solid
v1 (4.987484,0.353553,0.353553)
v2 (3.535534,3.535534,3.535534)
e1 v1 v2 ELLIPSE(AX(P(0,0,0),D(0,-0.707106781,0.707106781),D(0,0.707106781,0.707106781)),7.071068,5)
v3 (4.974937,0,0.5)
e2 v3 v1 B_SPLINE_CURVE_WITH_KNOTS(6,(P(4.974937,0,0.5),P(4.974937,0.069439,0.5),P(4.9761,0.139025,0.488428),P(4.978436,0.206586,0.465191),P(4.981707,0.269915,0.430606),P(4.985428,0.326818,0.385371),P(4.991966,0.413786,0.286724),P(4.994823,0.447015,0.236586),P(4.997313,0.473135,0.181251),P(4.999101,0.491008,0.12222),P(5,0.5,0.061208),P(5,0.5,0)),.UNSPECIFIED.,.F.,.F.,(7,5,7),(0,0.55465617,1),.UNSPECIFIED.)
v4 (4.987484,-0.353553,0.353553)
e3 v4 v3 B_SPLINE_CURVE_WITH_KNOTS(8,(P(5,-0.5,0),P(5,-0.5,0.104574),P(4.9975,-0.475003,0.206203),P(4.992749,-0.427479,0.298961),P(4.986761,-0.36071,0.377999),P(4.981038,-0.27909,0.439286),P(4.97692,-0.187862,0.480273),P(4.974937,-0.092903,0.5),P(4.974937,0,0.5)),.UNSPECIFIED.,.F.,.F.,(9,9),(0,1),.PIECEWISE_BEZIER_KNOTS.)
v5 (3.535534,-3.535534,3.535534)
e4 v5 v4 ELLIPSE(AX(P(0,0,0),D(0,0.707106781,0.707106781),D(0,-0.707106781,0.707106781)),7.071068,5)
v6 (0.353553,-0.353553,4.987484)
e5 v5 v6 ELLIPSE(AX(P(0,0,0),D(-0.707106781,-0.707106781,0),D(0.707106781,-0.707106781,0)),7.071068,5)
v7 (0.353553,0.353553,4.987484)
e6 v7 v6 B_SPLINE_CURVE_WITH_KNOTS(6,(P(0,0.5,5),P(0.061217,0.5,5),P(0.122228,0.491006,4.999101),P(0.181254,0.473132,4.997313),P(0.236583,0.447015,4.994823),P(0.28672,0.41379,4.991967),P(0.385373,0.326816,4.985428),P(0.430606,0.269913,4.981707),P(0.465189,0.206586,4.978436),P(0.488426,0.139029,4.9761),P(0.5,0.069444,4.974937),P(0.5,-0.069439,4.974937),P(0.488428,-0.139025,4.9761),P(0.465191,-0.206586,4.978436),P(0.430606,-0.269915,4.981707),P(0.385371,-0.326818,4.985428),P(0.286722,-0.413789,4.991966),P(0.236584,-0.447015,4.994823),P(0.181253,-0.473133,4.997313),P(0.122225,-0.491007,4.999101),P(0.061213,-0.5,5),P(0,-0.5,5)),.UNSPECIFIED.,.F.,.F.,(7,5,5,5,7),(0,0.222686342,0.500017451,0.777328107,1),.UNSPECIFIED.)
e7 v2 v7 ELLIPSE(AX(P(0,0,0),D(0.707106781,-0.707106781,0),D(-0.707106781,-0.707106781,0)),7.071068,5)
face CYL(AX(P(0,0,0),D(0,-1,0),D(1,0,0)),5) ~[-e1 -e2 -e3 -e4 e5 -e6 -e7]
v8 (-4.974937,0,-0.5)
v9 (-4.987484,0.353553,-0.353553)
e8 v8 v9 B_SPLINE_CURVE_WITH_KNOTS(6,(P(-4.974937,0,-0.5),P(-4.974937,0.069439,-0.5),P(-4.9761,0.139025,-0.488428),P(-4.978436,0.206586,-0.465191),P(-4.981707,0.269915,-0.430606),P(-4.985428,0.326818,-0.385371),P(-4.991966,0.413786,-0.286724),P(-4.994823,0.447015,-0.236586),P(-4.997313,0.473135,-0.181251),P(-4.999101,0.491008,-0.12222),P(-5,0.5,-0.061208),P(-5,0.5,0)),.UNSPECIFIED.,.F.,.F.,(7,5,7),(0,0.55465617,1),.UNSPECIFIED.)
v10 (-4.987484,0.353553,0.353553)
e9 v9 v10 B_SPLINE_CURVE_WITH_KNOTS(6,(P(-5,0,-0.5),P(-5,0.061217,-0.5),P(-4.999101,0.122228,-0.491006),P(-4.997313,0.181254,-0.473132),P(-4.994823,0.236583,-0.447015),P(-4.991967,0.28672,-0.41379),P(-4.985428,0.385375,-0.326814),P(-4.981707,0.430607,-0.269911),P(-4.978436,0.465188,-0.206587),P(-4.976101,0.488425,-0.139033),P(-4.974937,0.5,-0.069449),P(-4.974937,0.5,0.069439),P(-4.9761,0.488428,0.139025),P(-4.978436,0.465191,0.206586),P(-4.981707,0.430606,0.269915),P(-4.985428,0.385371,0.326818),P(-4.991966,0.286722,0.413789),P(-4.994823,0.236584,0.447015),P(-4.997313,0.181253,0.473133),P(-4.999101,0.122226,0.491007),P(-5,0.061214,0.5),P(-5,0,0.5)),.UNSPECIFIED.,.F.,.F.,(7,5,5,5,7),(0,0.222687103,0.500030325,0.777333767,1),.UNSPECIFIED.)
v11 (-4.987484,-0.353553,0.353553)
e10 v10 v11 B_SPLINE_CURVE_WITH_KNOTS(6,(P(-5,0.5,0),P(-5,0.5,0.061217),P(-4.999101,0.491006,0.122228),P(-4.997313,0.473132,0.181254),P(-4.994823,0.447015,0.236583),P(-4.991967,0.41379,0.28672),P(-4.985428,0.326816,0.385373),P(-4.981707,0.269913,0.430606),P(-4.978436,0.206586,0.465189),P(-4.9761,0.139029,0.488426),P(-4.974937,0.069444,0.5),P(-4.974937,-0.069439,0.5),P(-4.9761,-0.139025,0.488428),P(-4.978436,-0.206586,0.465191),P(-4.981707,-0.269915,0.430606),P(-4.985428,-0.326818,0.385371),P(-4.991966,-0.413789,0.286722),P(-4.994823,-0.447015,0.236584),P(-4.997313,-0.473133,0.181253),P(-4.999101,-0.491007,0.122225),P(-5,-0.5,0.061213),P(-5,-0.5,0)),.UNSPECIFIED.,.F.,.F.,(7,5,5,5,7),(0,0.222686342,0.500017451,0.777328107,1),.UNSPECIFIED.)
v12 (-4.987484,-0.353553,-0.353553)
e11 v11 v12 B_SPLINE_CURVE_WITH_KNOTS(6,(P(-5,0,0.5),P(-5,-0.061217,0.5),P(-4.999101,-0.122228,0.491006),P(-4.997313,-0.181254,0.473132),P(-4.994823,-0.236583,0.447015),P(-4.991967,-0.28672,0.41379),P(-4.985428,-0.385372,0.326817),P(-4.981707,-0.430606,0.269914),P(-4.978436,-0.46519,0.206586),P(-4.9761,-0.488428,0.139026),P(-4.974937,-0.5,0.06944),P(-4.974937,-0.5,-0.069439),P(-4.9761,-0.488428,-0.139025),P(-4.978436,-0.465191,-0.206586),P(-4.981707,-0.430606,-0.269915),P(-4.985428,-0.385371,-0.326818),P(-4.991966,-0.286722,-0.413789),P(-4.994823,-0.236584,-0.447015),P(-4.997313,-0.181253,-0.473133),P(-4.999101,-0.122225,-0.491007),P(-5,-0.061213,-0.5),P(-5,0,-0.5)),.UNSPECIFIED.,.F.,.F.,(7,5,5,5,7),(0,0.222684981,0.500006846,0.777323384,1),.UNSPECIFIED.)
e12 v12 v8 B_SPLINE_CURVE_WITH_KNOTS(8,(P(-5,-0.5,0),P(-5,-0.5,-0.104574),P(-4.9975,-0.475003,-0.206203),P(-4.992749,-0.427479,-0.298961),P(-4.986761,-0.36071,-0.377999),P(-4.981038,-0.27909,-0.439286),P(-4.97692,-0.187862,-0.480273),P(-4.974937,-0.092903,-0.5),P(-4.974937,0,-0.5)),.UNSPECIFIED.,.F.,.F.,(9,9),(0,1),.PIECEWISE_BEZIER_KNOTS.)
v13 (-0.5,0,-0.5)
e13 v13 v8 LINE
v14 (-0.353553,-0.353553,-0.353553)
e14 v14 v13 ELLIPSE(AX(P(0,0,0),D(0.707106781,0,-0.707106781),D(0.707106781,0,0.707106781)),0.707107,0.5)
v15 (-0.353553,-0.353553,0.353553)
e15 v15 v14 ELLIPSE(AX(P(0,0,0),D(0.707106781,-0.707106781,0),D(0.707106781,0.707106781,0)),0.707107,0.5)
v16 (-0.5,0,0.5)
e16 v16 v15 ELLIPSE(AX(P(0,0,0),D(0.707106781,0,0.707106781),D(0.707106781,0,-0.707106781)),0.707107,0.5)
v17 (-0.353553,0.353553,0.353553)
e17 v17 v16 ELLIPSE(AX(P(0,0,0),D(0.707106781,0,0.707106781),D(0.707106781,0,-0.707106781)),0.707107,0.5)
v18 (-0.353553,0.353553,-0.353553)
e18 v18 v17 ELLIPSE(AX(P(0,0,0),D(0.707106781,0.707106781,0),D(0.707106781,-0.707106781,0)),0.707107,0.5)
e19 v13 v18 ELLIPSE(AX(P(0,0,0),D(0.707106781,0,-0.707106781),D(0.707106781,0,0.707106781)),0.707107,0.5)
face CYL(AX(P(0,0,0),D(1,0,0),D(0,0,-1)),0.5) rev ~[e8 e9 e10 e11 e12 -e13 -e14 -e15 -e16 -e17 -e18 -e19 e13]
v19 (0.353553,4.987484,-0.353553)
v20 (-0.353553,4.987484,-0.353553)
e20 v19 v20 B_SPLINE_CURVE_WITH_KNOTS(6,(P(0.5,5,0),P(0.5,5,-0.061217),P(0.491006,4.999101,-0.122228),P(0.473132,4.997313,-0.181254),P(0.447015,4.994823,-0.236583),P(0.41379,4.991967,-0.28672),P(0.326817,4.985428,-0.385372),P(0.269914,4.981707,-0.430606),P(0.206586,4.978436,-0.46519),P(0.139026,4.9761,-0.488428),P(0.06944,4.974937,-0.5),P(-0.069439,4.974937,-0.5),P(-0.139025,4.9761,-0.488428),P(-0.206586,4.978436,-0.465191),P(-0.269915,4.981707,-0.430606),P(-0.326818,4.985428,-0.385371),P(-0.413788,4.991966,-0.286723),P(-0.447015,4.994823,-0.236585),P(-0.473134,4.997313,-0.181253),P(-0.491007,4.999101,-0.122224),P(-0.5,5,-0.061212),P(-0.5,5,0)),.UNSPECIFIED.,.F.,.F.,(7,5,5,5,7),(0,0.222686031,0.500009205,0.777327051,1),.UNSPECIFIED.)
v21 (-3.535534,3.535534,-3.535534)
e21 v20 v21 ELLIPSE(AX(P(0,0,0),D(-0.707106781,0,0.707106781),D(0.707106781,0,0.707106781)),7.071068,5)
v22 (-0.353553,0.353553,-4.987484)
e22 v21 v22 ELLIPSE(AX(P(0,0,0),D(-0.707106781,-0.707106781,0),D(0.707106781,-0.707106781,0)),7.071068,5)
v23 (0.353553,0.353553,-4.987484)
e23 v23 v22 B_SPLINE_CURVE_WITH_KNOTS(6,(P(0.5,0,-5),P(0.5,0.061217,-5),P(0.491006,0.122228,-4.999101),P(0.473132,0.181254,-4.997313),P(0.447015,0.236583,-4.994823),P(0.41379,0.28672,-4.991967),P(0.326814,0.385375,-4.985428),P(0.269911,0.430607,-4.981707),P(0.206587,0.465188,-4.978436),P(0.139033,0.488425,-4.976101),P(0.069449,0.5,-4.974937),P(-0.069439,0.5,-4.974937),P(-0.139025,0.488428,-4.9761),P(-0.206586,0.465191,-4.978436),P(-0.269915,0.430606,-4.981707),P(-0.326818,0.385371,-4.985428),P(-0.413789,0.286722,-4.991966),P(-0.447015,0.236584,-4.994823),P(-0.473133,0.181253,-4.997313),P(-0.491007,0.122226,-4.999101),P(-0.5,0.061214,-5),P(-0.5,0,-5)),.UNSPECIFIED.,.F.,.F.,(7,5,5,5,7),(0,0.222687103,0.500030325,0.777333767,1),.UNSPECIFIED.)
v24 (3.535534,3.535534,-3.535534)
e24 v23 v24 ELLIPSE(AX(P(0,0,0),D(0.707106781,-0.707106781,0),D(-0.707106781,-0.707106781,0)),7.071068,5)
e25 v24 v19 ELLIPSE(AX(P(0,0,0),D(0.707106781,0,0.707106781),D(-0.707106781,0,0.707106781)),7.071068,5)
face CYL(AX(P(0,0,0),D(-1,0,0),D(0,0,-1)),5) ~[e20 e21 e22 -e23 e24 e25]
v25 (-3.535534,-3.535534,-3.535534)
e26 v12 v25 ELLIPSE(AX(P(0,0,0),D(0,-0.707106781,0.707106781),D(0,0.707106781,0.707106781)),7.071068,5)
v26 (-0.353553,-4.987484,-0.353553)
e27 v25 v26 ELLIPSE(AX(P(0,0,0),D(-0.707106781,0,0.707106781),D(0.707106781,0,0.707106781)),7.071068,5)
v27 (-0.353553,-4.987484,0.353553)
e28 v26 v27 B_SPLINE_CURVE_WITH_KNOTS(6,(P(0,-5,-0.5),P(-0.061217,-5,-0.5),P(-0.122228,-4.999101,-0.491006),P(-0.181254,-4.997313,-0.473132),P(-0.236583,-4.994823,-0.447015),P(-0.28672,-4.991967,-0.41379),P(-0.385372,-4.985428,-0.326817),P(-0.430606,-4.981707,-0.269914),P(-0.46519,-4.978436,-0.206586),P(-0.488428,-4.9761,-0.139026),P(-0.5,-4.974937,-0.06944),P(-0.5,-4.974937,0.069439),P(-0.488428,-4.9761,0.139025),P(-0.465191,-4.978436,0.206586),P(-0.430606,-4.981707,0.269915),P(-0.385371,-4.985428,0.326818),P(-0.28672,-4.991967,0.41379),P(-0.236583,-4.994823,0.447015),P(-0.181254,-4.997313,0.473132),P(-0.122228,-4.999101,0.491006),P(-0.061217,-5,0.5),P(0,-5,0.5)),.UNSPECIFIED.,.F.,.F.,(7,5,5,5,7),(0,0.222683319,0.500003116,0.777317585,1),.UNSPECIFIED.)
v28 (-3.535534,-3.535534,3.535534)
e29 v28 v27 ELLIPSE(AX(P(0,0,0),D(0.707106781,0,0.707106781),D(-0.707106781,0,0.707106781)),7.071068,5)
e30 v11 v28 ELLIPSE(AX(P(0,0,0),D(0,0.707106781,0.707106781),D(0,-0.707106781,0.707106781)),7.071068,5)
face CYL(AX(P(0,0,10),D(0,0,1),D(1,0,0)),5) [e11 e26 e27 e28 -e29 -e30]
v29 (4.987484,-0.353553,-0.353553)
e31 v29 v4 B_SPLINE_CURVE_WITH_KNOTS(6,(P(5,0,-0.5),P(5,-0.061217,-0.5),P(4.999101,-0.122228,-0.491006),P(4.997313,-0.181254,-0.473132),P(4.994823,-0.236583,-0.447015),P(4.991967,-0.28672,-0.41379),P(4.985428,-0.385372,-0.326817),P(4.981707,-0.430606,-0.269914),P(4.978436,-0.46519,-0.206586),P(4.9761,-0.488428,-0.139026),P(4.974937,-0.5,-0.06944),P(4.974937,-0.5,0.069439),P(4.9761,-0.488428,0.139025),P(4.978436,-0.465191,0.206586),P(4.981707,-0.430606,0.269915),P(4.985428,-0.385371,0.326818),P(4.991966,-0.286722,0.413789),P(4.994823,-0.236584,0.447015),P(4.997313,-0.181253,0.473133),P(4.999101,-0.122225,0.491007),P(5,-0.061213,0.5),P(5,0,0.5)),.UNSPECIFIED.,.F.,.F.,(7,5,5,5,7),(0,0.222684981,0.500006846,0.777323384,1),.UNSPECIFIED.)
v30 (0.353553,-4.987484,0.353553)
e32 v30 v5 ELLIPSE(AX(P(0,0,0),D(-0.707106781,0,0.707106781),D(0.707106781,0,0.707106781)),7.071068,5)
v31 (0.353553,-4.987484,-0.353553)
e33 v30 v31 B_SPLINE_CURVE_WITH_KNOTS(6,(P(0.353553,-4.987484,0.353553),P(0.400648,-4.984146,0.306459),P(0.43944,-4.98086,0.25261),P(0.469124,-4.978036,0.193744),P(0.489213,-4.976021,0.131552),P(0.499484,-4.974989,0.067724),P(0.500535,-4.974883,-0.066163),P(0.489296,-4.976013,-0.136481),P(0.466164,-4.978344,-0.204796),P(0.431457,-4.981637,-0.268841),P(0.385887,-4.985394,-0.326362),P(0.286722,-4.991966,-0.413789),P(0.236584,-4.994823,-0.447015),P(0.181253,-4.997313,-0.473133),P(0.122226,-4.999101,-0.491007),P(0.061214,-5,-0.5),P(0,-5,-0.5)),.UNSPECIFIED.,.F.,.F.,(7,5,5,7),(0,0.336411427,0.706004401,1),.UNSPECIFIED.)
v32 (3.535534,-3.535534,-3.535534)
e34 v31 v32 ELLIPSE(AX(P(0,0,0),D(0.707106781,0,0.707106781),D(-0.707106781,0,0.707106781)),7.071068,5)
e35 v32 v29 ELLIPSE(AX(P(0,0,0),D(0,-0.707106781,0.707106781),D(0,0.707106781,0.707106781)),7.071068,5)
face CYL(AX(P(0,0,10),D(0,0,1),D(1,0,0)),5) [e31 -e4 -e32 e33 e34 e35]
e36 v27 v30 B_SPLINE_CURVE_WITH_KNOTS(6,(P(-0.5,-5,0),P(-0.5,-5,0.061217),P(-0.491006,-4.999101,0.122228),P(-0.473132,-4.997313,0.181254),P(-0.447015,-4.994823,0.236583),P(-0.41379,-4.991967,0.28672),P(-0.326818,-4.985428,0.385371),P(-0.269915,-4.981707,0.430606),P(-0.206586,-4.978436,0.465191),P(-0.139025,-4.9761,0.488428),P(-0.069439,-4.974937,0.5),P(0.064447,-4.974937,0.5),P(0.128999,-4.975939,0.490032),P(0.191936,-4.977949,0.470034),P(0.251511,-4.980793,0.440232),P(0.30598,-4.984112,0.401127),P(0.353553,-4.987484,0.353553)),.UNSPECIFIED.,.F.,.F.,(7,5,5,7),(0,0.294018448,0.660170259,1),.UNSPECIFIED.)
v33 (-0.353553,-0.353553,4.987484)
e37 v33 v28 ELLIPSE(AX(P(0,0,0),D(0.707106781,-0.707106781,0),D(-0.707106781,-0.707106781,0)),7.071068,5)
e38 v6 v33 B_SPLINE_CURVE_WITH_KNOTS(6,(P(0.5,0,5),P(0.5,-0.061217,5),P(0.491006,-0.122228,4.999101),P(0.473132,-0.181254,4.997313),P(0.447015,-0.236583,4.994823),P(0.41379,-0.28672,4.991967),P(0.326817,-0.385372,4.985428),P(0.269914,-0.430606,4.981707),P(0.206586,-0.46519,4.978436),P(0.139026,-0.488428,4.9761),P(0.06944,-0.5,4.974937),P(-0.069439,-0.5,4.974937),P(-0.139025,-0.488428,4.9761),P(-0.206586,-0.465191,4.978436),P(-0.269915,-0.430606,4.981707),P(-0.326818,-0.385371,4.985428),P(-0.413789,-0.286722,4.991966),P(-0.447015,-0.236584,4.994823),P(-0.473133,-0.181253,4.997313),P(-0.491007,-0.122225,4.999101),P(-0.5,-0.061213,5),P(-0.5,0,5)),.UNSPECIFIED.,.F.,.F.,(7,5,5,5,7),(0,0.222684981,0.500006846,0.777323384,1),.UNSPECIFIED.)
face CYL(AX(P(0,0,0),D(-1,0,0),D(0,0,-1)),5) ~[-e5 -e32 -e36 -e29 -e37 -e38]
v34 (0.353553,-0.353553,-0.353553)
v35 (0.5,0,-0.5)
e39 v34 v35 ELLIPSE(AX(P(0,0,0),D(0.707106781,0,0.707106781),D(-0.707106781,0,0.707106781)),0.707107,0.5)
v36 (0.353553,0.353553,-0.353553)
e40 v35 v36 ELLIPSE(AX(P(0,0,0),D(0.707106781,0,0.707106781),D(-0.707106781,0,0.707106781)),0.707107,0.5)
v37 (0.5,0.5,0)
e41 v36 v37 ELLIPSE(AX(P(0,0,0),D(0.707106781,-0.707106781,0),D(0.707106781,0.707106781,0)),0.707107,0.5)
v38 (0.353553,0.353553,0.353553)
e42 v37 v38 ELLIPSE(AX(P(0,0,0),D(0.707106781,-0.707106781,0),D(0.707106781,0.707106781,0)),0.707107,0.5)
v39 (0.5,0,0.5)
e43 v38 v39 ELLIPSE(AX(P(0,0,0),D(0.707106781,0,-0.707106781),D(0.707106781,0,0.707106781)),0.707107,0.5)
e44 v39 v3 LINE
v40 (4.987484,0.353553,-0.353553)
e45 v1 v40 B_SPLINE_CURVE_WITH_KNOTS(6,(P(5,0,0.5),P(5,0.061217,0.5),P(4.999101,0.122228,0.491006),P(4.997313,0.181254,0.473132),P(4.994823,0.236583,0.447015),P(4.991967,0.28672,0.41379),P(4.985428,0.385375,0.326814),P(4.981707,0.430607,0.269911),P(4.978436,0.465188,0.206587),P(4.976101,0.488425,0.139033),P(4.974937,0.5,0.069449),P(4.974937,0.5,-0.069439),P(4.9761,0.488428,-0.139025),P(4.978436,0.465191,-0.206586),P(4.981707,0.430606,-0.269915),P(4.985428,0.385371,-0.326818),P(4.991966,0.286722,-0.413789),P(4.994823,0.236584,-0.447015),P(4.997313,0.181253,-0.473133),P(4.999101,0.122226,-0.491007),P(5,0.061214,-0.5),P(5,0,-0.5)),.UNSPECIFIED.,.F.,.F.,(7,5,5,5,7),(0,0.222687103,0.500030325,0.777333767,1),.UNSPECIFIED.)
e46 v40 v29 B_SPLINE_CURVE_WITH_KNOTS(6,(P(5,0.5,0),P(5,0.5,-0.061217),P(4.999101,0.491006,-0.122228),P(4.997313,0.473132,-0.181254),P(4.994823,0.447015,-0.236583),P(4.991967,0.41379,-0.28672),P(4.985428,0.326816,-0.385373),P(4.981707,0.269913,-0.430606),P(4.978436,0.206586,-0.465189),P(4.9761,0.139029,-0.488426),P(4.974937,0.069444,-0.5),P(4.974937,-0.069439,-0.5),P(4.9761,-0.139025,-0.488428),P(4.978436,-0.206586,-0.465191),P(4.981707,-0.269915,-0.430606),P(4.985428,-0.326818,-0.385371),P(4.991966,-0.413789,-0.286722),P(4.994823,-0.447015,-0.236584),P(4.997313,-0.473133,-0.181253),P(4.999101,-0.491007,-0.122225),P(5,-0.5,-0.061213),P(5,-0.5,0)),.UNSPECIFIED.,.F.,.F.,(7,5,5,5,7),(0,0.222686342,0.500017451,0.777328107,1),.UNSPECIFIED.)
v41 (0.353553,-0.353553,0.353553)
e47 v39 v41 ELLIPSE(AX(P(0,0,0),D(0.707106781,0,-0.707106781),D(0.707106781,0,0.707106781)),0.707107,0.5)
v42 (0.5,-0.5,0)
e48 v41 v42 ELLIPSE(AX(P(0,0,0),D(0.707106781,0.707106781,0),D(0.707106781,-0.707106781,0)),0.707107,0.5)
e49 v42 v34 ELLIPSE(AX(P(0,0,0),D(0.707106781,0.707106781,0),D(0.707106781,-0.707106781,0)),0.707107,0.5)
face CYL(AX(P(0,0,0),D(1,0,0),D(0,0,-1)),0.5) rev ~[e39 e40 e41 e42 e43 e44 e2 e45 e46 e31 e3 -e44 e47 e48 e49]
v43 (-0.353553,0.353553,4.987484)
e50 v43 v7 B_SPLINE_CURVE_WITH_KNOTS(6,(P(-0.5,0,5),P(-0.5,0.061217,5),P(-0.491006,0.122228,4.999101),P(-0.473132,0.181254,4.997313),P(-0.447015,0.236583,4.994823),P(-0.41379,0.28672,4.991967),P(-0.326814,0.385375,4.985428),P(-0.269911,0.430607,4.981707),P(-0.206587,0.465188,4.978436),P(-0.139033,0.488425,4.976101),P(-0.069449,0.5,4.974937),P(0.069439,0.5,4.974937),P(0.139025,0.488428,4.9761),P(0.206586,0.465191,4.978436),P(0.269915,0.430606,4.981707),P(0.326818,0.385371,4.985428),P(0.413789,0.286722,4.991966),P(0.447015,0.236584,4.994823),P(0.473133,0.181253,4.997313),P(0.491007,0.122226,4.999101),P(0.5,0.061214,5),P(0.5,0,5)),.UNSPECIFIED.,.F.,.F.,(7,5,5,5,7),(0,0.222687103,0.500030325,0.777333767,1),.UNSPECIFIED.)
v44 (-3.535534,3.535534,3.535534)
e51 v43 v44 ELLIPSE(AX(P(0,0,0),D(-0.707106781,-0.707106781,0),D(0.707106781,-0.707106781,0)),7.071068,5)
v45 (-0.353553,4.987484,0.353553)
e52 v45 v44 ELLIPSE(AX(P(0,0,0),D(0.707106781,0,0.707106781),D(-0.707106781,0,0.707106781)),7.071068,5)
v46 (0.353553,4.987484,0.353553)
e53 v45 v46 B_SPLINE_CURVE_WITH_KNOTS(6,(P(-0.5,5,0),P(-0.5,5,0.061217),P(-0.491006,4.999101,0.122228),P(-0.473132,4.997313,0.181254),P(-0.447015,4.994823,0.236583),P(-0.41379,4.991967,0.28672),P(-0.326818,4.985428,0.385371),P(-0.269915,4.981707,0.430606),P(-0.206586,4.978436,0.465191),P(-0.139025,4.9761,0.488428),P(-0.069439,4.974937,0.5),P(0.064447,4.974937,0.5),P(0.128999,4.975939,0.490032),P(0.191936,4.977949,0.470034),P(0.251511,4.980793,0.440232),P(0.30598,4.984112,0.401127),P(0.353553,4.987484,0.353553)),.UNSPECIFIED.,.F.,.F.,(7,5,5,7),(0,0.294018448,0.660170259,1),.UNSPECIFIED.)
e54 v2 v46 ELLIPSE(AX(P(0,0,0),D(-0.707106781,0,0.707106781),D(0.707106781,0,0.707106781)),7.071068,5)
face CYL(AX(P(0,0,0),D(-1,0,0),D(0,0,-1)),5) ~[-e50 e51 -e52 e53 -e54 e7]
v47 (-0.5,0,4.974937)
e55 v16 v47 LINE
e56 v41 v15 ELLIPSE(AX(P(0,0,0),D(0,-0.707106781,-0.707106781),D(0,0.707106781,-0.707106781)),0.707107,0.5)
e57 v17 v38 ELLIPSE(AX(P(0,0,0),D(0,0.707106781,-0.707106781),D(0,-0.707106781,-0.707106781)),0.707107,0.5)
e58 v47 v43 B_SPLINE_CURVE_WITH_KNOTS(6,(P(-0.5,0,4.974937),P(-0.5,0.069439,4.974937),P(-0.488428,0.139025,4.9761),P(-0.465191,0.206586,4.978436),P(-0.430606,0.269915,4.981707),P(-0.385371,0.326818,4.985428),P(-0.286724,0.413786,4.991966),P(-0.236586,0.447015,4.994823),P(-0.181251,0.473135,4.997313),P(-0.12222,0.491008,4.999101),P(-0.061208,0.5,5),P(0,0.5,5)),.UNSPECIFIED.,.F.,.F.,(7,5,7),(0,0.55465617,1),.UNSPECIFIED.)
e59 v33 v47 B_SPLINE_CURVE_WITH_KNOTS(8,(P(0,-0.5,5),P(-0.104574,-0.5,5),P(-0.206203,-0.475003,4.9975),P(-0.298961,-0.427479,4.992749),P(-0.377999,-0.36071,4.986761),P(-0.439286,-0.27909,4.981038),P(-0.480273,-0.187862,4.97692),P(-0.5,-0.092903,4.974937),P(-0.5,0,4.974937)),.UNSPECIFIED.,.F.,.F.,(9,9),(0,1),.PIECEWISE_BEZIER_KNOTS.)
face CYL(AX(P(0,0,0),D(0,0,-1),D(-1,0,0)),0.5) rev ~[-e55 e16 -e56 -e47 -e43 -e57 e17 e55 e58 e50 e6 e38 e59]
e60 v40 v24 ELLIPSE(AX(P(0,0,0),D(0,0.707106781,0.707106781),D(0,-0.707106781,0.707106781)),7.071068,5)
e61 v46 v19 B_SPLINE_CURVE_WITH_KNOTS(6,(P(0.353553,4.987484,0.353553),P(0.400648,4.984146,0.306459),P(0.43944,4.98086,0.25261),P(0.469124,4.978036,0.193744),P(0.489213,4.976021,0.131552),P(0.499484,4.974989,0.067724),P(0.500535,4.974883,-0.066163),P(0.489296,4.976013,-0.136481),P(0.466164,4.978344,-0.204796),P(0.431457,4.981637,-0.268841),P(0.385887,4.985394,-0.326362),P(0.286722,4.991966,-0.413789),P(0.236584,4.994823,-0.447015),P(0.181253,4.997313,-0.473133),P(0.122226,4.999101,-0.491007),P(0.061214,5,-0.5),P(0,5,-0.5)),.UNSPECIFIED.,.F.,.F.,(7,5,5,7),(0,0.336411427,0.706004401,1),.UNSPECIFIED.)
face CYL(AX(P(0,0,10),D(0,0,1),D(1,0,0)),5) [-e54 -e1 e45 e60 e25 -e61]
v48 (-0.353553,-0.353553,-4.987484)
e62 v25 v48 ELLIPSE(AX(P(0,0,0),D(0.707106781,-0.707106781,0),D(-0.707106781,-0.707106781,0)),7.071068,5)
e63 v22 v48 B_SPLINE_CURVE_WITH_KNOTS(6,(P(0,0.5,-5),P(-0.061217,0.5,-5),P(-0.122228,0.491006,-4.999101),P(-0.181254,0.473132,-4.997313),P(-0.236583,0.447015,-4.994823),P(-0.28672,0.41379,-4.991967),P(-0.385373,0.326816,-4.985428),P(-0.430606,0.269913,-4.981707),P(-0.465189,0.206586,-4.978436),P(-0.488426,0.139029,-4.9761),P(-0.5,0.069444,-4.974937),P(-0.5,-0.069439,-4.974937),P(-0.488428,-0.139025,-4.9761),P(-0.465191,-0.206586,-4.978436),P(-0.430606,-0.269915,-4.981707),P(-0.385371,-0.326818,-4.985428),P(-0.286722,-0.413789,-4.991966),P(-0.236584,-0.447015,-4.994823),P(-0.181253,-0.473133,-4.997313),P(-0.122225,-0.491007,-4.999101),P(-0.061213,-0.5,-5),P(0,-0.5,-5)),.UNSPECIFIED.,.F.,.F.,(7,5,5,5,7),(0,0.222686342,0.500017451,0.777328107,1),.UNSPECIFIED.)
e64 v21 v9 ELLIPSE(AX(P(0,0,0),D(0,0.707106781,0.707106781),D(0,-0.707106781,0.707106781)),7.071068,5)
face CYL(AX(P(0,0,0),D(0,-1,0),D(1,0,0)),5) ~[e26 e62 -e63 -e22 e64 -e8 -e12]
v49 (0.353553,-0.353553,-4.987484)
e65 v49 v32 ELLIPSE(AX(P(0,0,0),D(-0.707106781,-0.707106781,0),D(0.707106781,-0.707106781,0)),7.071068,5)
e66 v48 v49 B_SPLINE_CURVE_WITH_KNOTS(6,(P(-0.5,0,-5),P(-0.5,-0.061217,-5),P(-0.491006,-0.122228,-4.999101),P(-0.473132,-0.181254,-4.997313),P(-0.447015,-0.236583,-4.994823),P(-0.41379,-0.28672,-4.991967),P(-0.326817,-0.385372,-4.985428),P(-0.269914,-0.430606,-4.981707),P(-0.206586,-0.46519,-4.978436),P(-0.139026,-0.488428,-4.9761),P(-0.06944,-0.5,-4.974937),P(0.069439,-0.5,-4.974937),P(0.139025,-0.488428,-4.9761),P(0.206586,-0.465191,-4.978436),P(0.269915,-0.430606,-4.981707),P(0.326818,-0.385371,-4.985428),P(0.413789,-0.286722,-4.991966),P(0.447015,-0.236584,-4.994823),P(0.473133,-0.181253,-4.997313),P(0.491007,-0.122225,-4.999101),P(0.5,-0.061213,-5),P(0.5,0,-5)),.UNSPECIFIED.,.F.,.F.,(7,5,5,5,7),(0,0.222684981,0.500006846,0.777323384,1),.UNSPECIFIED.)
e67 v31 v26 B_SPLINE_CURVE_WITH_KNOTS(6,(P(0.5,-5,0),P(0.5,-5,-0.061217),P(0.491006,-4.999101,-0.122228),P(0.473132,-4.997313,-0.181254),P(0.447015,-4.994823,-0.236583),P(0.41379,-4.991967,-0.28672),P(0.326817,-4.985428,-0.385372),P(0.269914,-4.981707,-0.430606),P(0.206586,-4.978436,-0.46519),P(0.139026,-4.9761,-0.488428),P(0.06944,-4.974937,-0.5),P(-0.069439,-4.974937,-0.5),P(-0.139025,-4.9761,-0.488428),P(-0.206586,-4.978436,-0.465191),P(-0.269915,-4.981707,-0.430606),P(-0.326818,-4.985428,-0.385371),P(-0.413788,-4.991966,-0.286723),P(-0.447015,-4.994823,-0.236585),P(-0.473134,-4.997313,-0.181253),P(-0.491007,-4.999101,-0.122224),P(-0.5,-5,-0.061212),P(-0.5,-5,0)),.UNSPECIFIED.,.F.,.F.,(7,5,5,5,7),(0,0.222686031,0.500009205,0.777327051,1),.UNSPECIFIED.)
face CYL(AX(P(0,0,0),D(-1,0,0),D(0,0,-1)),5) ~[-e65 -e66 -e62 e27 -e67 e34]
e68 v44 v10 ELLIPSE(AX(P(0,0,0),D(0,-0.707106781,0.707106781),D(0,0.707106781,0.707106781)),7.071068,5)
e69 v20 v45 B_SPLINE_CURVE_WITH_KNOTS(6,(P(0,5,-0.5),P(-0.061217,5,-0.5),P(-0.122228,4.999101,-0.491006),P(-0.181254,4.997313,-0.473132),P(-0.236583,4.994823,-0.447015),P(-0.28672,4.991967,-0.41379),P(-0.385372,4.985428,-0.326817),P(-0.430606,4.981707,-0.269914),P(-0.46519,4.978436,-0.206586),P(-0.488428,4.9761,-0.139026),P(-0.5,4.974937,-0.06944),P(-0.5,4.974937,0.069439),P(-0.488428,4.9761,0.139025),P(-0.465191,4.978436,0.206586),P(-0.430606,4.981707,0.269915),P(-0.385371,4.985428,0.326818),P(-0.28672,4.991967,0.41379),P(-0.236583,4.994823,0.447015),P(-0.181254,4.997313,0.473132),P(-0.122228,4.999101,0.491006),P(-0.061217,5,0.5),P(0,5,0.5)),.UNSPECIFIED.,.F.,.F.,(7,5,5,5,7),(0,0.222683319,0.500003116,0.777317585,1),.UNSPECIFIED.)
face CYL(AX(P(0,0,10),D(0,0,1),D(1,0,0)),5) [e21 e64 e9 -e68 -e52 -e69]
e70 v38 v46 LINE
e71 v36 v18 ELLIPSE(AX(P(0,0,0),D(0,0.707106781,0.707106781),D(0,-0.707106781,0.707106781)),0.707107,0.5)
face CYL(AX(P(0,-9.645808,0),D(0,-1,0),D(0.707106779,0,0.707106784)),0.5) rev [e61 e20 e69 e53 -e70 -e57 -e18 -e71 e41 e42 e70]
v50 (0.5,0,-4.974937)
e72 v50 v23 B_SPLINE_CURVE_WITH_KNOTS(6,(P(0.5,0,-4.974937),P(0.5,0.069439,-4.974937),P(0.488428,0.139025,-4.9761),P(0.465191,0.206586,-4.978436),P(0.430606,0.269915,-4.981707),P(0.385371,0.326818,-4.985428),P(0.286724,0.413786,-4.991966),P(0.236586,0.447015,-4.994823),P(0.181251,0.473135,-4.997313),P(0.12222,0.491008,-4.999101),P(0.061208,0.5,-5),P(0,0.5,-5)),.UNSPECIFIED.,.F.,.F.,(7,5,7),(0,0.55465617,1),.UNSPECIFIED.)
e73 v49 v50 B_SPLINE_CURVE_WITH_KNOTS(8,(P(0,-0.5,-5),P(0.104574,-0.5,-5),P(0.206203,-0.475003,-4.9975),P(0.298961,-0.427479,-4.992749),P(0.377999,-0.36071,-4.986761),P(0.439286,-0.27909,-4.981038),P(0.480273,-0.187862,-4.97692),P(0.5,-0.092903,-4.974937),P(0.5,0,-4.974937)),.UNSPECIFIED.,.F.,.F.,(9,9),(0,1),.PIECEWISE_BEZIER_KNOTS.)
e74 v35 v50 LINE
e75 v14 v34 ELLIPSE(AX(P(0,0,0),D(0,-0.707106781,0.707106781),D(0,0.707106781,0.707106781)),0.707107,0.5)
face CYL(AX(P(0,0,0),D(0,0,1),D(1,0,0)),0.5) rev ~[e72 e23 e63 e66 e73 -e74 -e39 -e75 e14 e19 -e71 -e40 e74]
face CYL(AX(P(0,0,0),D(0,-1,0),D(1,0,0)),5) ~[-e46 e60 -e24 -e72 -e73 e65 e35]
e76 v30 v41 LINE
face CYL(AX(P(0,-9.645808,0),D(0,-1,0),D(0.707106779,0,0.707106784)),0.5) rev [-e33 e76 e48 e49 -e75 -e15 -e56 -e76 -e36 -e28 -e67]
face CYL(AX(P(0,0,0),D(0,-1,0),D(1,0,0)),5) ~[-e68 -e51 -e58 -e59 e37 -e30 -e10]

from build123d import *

# Parameters (mm, degrees)
SKETCH_2_W               = 20
SKETCH_2_H               = 20
EXTRUDE_1_DEPTH          = 10
SKETCH_3_OUTSIDE_W       = 28.928
SKETCH_3_OUTSIDE_H       = 28.928
SKETCH_3_OUTSIDE_R       = 5
CUT_EXTRUDE_1_DEPTH      = 20
SKETCH_4_OUTSIDE_W       = 16.898
SKETCH_4_OUTSIDE_H       = 26.898
SKETCH_4_OUTSIDE_R       = 5
CUT_EXTRUDE_2_DEPTH      = 10
SKETCH_5_OUTSIDE_W       = 15.464
SKETCH_5_OUTSIDE_H       = 15.464
SKETCH_5_OUTSIDE_R       = 5
CUT_EXTRUDE_3_DEPTH      = 10
CUT_EXTRUDE_4_REACH      = 10.66
SKETCH_6_R               = 0.5
PATTERN_CIRCULAR_1_COUNT = 4
CUT_EXTRUDE_5_DEPTH      = 9.645808409
CUT_EXTRUDE_5_DEPTH_BACK = 9.645808409
SKETCH_7_R               = 0.5


with BuildPart() as part:
    # 草图2 → 凸台-拉伸1 (new, symmetric)
    with BuildSketch(Plane(origin=(0, 0, 0), x_dir=(1, 0, 0), z_dir=(0, 1, 0))):
        Rectangle(SKETCH_2_W, SKETCH_2_H)
    extrude(amount=EXTRUDE_1_DEPTH, both=True)

    # 草图3 outside → 切除-拉伸1 (cut)
    with BuildSketch(Plane.XY.offset(10)):
        Rectangle(SKETCH_3_OUTSIDE_W, SKETCH_3_OUTSIDE_H)
        Circle(SKETCH_3_OUTSIDE_R, mode=Mode.SUBTRACT)
    extrude(amount=-CUT_EXTRUDE_1_DEPTH, mode=Mode.SUBTRACT)

    # 草图4 outside → 切除-拉伸2 (cut, symmetric)
    with BuildSketch(Plane(origin=(0, 0, 0), x_dir=(1, 0, 0), z_dir=(0, 1, 0))):
        Rectangle(SKETCH_4_OUTSIDE_W, SKETCH_4_OUTSIDE_H)
        Circle(SKETCH_4_OUTSIDE_R, mode=Mode.SUBTRACT)
    extrude(amount=CUT_EXTRUDE_2_DEPTH, both=True, mode=Mode.SUBTRACT)

    # 草图5 outside → 切除-拉伸3 (cut, symmetric)
    with BuildSketch(Plane(origin=(0, 0, 0), x_dir=(0, 0, -1), z_dir=(1, 0, 0))):
        Rectangle(SKETCH_5_OUTSIDE_W, SKETCH_5_OUTSIDE_H)
        Circle(SKETCH_5_OUTSIDE_R, mode=Mode.SUBTRACT)
    extrude(amount=CUT_EXTRUDE_3_DEPTH, both=True, mode=Mode.SUBTRACT)

    # 草图6 → 切除-拉伸4 (cut, up to next)
    with BuildSketch(Plane(origin=(0, 0, 0), x_dir=(0, 0, -1), z_dir=(1, 0, 0)), mode=Mode.PRIVATE) as cut_extrude_4_sk1:
        Circle(SKETCH_6_R)
    cut_extrude_4_tool1 = extrude(cut_extrude_4_sk1.sketch, amount=-CUT_EXTRUDE_4_REACH, mode=Mode.PRIVATE) & part.part
    cut_extrude_4 = cut_extrude_4_tool1.solids().sort_by_distance((0, 0, 0))[0]
    add(cut_extrude_4, mode=Mode.SUBTRACT)

    # 阵列(圆周)1: 切除-拉伸4 ×4 about axis
    pattern_circular_1_axis = Axis((0, 5.5, 0), (0, -1, 0))
    for i in range(1, PATTERN_CIRCULAR_1_COUNT):
        add(cut_extrude_4.rotate(pattern_circular_1_axis, i * 360 / PATTERN_CIRCULAR_1_COUNT), mode=Mode.SUBTRACT)

    # 草图7 → 切除-拉伸5 (cut, two sides: drawn at the far end of the back side and taken through both)
    with BuildSketch(Plane(origin=(0, 0, 0), x_dir=(1, 0, 0), z_dir=(0, 1, 0)).offset(-CUT_EXTRUDE_5_DEPTH_BACK)):
        with Locations(Location((0, 0, 0), (0, 0, 314.999999812))):
            Circle(SKETCH_7_R)
    extrude(amount=CUT_EXTRUDE_5_DEPTH + CUT_EXTRUDE_5_DEPTH_BACK, mode=Mode.SUBTRACT)


solid = part.part
